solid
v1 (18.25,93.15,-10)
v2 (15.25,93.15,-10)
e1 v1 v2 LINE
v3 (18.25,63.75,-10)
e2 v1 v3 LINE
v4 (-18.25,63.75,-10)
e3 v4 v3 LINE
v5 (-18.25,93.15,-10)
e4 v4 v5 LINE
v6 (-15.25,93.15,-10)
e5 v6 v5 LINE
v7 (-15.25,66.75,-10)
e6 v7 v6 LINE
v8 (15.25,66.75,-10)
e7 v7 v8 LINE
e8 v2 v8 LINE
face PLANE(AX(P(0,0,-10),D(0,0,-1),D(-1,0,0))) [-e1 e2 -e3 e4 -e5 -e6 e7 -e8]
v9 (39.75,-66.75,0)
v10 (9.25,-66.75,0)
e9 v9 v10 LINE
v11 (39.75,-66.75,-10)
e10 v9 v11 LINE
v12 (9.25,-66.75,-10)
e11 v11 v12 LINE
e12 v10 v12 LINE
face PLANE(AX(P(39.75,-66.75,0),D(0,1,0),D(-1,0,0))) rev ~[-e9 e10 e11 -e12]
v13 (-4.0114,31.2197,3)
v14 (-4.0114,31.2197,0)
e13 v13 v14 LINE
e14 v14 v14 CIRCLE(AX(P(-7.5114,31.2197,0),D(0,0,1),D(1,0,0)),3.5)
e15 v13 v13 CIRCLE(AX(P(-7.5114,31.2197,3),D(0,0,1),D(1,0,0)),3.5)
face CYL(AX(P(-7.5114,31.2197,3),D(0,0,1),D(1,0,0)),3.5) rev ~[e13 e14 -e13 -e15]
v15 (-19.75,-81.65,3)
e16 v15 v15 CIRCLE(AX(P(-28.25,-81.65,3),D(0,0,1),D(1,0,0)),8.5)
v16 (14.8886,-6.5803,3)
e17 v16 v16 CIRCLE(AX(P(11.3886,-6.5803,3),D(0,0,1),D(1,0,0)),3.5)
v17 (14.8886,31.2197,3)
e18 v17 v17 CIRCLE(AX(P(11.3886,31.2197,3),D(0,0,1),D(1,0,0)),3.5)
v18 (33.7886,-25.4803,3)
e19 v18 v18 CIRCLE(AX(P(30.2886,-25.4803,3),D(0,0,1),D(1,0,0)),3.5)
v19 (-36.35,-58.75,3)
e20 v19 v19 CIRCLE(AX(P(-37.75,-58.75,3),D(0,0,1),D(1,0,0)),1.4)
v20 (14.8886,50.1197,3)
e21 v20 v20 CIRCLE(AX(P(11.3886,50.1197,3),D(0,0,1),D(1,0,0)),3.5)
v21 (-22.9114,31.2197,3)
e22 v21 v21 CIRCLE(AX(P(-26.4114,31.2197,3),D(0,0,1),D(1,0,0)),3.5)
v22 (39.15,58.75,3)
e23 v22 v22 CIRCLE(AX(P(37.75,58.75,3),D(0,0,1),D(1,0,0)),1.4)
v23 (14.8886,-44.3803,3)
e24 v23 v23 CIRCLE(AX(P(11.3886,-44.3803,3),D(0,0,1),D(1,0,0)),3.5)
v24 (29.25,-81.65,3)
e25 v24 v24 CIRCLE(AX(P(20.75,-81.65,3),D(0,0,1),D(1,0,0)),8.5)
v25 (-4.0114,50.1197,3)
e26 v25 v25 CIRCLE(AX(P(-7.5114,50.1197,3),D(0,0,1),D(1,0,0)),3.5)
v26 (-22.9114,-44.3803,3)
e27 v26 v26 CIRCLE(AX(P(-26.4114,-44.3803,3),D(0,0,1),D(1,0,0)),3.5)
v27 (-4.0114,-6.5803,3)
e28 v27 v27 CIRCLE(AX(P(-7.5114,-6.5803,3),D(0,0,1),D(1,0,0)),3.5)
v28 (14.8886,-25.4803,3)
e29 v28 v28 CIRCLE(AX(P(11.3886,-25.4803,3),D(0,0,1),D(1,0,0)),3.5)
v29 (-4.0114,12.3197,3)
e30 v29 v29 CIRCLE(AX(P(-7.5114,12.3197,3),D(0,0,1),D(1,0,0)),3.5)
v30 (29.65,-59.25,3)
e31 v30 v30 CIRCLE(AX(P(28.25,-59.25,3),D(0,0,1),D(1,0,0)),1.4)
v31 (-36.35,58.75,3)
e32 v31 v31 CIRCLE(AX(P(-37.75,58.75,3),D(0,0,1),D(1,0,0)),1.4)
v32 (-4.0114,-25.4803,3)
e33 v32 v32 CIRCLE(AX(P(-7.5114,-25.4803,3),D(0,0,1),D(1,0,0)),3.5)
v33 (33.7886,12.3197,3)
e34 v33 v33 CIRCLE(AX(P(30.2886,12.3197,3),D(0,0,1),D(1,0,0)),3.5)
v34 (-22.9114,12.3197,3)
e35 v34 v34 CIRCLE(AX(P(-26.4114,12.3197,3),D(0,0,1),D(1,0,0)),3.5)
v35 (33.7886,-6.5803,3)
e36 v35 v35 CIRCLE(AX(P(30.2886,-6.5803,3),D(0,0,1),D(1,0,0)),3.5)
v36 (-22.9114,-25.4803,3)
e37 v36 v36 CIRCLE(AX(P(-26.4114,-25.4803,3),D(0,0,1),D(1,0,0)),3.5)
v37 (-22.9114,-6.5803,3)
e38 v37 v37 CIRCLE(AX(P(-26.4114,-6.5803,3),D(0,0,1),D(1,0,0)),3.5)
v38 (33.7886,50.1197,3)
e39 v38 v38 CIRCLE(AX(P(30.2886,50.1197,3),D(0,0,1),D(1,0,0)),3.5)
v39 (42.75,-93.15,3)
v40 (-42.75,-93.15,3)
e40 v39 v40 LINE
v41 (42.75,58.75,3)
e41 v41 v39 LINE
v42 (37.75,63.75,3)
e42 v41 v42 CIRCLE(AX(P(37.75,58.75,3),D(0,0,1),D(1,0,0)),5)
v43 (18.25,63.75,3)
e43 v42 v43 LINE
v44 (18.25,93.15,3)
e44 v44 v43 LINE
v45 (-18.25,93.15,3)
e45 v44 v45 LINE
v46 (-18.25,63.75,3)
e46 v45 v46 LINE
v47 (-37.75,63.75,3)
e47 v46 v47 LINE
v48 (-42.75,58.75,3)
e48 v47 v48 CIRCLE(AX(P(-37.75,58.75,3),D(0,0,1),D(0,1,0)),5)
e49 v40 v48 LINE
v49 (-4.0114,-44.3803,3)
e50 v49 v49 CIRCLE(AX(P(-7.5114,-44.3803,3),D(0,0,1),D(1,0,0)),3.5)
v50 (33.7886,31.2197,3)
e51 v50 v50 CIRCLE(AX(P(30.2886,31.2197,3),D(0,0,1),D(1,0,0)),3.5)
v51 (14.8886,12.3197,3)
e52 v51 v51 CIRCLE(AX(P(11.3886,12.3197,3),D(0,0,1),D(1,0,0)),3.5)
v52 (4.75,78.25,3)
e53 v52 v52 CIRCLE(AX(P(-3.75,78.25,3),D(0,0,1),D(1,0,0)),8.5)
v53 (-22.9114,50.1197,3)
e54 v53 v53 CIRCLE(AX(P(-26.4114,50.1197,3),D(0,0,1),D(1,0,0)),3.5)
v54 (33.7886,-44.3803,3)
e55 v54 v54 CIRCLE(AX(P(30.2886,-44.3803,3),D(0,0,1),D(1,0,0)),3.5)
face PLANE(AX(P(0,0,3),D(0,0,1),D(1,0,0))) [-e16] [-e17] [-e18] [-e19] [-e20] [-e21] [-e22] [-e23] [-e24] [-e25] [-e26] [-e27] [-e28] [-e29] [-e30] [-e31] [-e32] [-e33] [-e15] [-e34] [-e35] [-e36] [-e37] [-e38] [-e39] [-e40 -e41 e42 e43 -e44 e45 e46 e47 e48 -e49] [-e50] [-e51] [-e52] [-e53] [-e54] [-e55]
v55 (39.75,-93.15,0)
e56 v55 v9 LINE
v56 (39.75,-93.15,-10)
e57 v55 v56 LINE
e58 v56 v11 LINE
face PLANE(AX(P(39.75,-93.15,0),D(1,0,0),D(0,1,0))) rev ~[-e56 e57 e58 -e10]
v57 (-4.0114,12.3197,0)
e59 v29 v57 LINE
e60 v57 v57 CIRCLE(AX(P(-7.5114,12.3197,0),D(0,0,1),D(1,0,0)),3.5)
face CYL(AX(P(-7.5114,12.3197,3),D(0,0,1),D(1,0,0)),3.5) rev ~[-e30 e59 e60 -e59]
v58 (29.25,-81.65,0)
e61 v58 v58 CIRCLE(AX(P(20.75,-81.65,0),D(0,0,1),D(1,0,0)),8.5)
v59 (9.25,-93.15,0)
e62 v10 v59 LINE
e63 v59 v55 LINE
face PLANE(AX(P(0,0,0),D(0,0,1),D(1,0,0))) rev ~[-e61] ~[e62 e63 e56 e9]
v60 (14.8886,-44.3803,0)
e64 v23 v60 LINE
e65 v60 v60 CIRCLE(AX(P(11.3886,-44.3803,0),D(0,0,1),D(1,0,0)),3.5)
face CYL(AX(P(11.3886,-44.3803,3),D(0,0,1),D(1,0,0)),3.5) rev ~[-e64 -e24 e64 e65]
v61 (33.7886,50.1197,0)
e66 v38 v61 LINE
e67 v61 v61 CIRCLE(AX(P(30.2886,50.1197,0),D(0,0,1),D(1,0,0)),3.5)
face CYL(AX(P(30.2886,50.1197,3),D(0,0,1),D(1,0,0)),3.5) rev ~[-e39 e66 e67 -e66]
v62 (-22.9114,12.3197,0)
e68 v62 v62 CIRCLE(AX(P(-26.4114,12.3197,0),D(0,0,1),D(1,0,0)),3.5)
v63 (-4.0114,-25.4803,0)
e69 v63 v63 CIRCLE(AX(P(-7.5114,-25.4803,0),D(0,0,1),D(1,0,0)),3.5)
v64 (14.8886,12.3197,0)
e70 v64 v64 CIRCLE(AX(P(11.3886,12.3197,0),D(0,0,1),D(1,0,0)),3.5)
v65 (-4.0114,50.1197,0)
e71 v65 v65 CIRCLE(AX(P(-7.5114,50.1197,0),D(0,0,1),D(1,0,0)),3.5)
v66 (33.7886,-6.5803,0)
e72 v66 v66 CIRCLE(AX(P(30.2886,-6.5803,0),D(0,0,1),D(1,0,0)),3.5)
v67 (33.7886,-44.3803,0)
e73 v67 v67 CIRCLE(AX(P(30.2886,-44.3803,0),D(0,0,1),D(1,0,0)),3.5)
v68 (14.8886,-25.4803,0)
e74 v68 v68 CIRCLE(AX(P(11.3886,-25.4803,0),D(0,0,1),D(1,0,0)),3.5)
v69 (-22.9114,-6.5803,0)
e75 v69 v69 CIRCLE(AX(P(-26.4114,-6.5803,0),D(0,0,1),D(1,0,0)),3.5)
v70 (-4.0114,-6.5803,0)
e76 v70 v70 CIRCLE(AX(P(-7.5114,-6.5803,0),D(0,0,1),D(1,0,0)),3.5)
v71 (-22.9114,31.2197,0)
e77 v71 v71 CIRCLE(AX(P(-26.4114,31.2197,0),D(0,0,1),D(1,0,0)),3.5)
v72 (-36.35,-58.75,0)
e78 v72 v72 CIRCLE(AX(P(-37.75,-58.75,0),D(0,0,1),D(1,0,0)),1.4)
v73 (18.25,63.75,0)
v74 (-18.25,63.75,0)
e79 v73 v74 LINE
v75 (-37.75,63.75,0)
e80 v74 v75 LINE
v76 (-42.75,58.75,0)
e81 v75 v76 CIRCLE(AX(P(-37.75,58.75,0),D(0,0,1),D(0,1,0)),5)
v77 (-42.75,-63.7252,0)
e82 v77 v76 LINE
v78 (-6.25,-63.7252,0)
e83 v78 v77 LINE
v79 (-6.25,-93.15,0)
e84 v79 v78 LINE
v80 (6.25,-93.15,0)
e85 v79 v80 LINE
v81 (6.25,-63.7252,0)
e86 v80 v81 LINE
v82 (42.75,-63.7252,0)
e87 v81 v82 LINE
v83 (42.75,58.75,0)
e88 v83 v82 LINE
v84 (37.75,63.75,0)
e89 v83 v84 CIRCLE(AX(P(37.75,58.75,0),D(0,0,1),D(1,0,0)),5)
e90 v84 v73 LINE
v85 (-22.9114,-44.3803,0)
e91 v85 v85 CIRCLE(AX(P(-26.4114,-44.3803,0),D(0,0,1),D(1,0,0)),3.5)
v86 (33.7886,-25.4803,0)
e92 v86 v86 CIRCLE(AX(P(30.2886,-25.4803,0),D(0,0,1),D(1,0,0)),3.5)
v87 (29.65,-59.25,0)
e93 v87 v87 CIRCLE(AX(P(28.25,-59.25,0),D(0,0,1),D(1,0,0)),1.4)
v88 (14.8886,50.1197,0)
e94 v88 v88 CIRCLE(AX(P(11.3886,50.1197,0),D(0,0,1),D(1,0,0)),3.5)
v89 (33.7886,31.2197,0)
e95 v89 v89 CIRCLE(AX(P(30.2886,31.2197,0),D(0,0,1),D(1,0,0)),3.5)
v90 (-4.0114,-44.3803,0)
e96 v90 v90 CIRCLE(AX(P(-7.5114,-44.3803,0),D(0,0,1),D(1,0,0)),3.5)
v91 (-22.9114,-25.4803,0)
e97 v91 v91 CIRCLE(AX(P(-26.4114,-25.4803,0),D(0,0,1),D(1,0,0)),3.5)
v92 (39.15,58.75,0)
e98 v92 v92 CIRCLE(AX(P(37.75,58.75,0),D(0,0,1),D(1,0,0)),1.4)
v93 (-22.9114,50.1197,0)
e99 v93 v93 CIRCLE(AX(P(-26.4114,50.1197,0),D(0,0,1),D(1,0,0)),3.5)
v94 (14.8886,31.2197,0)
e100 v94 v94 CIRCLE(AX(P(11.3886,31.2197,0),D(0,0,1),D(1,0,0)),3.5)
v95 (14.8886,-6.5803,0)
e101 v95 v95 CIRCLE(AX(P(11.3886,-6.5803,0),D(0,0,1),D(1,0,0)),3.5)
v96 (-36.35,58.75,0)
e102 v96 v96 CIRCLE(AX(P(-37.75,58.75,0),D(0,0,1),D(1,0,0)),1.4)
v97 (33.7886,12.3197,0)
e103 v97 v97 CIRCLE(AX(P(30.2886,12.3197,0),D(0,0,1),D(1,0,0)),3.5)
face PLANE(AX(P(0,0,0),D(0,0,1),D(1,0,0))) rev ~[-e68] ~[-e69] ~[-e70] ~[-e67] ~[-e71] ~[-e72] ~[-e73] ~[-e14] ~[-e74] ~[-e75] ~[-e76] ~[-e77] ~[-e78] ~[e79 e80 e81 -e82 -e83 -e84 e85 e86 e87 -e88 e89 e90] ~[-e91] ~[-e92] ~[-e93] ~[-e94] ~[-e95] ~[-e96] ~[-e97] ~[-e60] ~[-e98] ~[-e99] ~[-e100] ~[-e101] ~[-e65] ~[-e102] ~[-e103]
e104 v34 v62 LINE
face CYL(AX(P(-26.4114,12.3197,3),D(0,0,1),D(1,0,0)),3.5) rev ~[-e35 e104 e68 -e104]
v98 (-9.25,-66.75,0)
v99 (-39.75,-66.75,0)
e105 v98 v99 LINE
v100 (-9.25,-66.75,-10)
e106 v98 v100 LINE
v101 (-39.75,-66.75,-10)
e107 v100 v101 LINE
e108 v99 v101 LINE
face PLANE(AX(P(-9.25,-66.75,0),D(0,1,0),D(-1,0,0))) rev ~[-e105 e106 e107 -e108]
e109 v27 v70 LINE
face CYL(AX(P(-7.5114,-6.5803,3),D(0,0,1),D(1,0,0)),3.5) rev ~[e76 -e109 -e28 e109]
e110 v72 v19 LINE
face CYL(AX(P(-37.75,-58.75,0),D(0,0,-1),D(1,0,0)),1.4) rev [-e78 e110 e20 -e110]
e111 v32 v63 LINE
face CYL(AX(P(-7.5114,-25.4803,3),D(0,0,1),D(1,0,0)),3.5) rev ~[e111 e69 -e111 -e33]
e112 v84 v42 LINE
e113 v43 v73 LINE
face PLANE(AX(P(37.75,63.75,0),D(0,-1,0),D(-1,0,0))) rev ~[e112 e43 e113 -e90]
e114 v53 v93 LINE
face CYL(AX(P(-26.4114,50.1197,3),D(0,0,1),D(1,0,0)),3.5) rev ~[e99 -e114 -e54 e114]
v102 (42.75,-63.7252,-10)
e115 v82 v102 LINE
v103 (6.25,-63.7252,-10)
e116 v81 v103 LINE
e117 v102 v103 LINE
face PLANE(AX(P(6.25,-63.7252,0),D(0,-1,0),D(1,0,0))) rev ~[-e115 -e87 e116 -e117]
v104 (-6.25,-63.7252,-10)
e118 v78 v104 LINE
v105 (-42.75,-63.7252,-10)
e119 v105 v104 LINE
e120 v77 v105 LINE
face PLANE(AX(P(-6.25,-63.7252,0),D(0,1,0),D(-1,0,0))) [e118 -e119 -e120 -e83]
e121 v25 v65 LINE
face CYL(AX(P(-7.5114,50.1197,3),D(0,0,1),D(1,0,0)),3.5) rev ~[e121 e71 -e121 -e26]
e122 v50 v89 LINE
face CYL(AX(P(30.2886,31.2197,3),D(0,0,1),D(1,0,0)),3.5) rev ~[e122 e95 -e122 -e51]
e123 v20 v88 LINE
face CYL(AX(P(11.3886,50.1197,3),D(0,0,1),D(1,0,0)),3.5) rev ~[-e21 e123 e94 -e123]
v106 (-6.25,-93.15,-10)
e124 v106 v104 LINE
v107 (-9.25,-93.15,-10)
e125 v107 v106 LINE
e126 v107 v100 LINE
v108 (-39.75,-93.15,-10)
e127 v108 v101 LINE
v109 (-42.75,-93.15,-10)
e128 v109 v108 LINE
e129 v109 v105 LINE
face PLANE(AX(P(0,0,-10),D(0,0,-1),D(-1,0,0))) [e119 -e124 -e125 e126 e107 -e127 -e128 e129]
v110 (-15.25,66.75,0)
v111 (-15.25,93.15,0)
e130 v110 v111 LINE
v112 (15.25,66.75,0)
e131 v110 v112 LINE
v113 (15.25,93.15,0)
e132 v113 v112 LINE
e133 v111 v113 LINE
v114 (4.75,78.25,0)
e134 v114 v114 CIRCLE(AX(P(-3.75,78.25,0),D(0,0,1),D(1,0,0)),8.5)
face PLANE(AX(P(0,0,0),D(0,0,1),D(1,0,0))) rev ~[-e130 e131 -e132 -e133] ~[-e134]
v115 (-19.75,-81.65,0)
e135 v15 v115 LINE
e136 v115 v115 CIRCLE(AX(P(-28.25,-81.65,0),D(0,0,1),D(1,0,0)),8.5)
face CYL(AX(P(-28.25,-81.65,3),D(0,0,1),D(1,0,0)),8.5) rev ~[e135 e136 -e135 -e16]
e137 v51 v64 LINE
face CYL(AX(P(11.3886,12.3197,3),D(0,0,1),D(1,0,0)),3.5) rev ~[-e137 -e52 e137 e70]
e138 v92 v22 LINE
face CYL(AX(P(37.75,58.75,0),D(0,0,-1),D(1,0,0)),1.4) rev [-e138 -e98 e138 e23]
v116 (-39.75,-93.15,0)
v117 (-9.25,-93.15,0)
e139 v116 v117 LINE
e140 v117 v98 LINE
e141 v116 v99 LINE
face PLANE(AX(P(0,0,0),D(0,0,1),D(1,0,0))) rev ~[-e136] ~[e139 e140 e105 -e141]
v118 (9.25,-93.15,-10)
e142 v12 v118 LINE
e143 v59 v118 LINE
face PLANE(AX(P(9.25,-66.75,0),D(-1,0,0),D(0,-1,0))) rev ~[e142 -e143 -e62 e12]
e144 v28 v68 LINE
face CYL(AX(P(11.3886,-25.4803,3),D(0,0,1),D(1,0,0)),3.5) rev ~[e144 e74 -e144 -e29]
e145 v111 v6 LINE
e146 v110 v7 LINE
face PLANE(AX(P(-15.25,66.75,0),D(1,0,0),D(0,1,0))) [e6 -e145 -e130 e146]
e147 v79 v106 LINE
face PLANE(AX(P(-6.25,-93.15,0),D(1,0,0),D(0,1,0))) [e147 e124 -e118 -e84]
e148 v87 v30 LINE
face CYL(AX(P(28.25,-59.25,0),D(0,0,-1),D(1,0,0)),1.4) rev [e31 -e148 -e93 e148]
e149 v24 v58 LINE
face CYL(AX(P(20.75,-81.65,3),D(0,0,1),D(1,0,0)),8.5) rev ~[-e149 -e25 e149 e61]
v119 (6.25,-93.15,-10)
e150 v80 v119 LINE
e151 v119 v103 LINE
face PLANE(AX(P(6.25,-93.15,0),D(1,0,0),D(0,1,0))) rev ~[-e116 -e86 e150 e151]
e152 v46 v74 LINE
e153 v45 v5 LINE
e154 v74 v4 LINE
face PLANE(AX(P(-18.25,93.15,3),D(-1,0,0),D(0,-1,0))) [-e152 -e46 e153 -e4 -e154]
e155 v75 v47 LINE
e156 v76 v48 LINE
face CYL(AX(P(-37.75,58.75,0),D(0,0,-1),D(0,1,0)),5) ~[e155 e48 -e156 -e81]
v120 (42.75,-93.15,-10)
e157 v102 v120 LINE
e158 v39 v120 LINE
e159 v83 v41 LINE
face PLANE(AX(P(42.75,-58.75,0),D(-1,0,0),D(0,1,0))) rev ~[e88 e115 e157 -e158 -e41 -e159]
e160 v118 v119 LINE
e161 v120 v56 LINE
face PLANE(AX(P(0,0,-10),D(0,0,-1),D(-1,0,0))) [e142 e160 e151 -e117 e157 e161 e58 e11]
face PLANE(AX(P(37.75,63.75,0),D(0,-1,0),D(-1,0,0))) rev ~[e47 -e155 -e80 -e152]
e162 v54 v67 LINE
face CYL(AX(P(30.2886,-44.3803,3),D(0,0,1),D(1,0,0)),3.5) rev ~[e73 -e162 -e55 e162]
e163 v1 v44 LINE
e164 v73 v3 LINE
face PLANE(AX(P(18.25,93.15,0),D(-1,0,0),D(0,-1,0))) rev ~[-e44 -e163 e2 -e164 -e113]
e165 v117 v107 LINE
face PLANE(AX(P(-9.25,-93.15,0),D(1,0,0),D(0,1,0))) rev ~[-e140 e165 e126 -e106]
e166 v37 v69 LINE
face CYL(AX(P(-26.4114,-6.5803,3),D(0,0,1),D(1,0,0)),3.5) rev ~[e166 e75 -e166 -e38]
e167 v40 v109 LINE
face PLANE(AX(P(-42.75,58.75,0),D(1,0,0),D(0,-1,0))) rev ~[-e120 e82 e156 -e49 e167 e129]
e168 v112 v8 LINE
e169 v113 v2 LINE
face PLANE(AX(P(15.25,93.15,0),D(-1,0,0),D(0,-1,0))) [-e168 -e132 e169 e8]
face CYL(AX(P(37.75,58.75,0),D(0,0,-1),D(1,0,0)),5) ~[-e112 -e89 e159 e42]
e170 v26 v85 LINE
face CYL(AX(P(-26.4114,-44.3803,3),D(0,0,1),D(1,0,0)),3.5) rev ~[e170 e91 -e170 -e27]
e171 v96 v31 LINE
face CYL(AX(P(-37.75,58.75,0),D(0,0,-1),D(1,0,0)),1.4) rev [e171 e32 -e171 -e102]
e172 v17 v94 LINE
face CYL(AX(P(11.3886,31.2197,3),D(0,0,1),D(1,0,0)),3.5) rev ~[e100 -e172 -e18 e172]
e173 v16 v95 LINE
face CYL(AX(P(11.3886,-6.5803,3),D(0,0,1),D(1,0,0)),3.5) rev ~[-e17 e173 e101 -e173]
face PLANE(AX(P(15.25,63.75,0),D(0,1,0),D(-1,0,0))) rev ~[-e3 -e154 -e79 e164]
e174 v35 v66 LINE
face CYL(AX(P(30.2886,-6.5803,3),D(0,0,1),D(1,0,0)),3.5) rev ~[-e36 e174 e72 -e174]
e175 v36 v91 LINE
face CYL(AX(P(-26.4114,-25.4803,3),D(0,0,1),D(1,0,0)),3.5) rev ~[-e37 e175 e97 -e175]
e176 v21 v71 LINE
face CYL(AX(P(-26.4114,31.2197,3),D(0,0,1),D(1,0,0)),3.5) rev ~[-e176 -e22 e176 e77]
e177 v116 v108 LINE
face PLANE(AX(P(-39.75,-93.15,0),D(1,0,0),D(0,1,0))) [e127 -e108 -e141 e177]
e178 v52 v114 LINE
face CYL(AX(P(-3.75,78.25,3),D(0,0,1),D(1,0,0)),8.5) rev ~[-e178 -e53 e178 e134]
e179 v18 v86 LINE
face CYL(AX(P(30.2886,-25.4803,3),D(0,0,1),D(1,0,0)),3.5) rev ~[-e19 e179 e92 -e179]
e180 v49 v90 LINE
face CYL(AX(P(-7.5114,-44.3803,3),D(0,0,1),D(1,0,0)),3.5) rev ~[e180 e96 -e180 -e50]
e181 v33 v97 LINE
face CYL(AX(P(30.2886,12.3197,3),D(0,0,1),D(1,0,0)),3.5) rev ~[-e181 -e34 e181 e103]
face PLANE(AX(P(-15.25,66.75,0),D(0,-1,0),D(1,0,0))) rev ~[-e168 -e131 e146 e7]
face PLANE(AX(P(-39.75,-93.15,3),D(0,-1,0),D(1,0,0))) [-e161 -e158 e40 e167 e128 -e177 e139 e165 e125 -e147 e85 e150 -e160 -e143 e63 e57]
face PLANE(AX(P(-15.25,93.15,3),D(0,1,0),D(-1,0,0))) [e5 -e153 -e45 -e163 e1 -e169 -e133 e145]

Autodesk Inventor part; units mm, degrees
ref_plane "YZ Plane" through (0, 0, 0) normal (1, 0, 0) x (0, 1, 0)
ref_plane "XZ Plane" through (0, 0, 0) normal (0, 1, 0) x (-1, 0, 0)
ref_plane "Arbeitsebene1" through (0, 0, 0) normal (0, 0, 1) x (1, 0, 0)
sketch "Skizze1" plane through (0, 0, 0) normal (0, 0, 1) x (1, 0, 0)
  arc A0 (-36.75, 55.75) -> (-34.75, 57.75) centre (-36.75, 57.75) ccw projected
  line L0 (-34.75, 57.75) -> (-34.75, 60.25) projected
  arc A1 (-32.75, 62.25) -> (-34.75, 60.25) centre (-32.75, 60.25) ccw projected
  line L1 (-32.75, 62.25) -> (32.25, 62.25) projected
  arc A2 (34.25, 60.25) -> (32.25, 62.25) centre (32.25, 60.25) ccw projected
  line L2 (34.25, 60.25) -> (34.25, 57.25) projected
  arc A3 (34.25, 57.25) -> (36.25, 55.25) centre (36.25, 57.25) ccw projected
  line L3 (36.25, 55.25) -> (39.25, 55.25) projected
  arc A4 (41.25, 53.25) -> (39.25, 55.25) centre (39.25, 53.25) ccw projected
  line L4 (41.25, 53.25) -> (41.25, -58.75) projected
  arc A5 (37.75, -62.25) -> (41.25, -58.75) centre (37.75, -58.75) ccw projected
  line L5 (37.75, -62.25) -> (33.25, -62.25) projected
  arc A6 (31.25, -60.25) -> (33.25, -62.25) centre (33.25, -60.25) ccw projected
  line L6 (31.25, -60.25) -> (31.25, -57.25) projected
  arc A7 (31.25, -57.25) -> (29.25, -55.25) centre (29.25, -57.25) ccw projected
  line L7 (29.25, -55.25) -> (26.25, -55.25) projected
  arc A8 (26.25, -55.25) -> (24.25, -57.25) centre (26.25, -57.25) ccw projected
  line L8 (24.25, -57.25) -> (24.25, -60.25) projected
  arc A9 (22.25, -62.25) -> (24.25, -60.25) centre (22.25, -60.25) ccw projected
  line L9 (22.25, -62.25) -> (-30.5541, -62.25) projected
  arc A10 (-32.5541, -60.25) -> (-30.5541, -62.25) centre (-30.5541, -60.25) ccw projected
  line L10 (-32.5541, -60.25) -> (-32.5541, -56.8048) projected
  arc A11 (-32.5541, -56.8048) -> (-34.5541, -54.8048) centre (-34.5541, -56.8048) ccw projected
  line L11 (-34.5541, -54.8048) -> (-39.25, -54.8048) projected
  arc A12 (-41.25, -52.8048) -> (-39.25, -54.8048) centre (-39.25, -52.8048) ccw projected
  line L12 (-41.25, -52.8048) -> (-41.25, 53.75) projected
  arc A13 (-39.25, 55.75) -> (-41.25, 53.75) centre (-39.25, 53.75) ccw projected
  line L13 (-39.25, 55.75) -> (-36.75, 55.75) projected
  line L14 (42.75, -58.75) -> (42.75, 58.75) projected
  arc A14 (42.75, 58.75) -> (37.75, 63.75) centre (37.75, 58.75) ccw projected
  line L15 (37.75, 63.75) -> (-37.75, 63.75) projected
  arc A15 (-37.75, 63.75) -> (-42.75, 58.75) centre (-37.75, 58.75) ccw projected
  line L16 (-42.75, 58.75) -> (-42.75, -58.75) projected
  arc A16 (-42.75, -58.75) -> (-37.75, -63.75) centre (-37.75, -58.75) ccw projected
  line L17 (-37.75, -63.75) -> (37.75, -63.75) projected
  arc A17 (37.75, -63.75) -> (42.75, -58.75) centre (37.75, -58.75) ccw projected
  circle A18 centre (-37.75, 58.75) radius 1.4 projected
  circle A19 centre (-37.75, -58.75) radius 1.4 projected
  circle A20 centre (37.75, 58.75) radius 1.4 projected
  circle A21 centre (28.25, -59.25) radius 1.4 projected
  point P0 (0, 0)
extrude "Extrusion1" add sketch "Skizze1" along normal blind 3 contours A0 L0 A1 L1 A2 L2 A3 L3 A4 L4 A5 L5 A6 L6 A7 L7 A8 L8 A9 L9 A10 L10 A11 L11 A12 L12 A13 L13 | A17 L17 A16 L16 A15 L15 A14 L14
sketch "Skizze2" plane through (0, 0, 3) normal (0, 0, 1) x (1, 0, 0)
  circle A0 centre (-26.4114, 50.1197) radius 3.8655 construction
  circle A1 centre (-26.4114, 50.1197) radius 3.5
  point P0 (0, 0)
  dimension "d2" = 7
extrude "Extrusion2" cut sketch "Skizze2" against normal through all
pattern_linear "Rechteckige Anordnung1" count 6 spacing 18.9 along (0, -1, 0) count 4 spacing 18.9 along (1, 0, 0) of "Extrusion2"
sketch "Skizze3" plane through (0, 0, 3) normal (0, 0, 1) x (1, 0, 0)
  circle A0 centre (-28.25, -81.65) radius 8.5 projected
  line L0 (-9.25, -66.75) -> (-39.75, -66.75) projected
  line L1 (-39.75, -66.75) -> (-39.75, -93.15) projected
  line L2 (-39.75, -93.15) -> (-9.25, -93.15) projected
  line L3 (-9.25, -93.15) -> (-9.25, -66.75) projected
  circle A1 centre (-3.75, 78.25) radius 8.5 projected
  line L4 (15.25, 93.15) -> (-15.25, 93.15) projected
  line L5 (-15.25, 93.15) -> (-15.25, 66.75) projected
  line L6 (-15.25, 66.75) -> (15.25, 66.75) projected
  line L7 (15.25, 66.75) -> (15.25, 93.15) projected
  circle A2 centre (20.75, -81.65) radius 8.5 projected
  line L8 (39.75, -66.75) -> (9.25, -66.75) projected
  line L9 (9.25, -66.75) -> (9.25, -93.15) projected
  line L10 (9.25, -93.15) -> (39.75, -93.15) projected
  line L11 (39.75, -93.15) -> (39.75, -66.75) projected
  line L12 (-42.75, 58.75) -> (-42.75, -58.75) projected
  line L13 (-42.75, -66.75) -> (-42.75, -58.75)
  line L14 (-42.75, -58.75) -> (-41.9493, -58.75)
  line L15 (-9.25, -93.15) -> (9.25, -93.15)
  arc A3 (37.75, -63.75) -> (42.75, -58.75) centre (37.75, -58.75) ccw projected
  line L16 (42.75, -66.75) -> (42.75, -58.75)
  line L17 (37.75, 63.75) -> (-37.75, 63.75) projected
  line L18 (-15.25, 93.15) -> (15.25, 93.15)
  line L19 (15.25, 93.15) -> (15.25, 63.75)
  line L20 (15.25, 63.75) -> (-15.25, 63.75)
  line L21 (-15.25, 63.75) -> (-15.25, 93.15)
  arc A4 (-42.75, -58.75) -> (-37.75, -63.75) centre (-37.75, -58.75) ccw projected
  circle A5 centre (30.2886, -44.3803) radius 3.5 projected
  circle A6 centre (30.2886, -25.4803) radius 3.5 projected
  circle A7 centre (30.2886, -6.5803) radius 3.5 projected
  circle A8 centre (30.2886, 12.3197) radius 3.5 projected
  circle A9 centre (30.2886, 31.2197) radius 3.5 projected
  circle A10 centre (30.2886, 50.1197) radius 3.5 projected
  circle A11 centre (11.3886, -44.3803) radius 3.5 projected
  circle A12 centre (11.3886, -25.4803) radius 3.5 projected
  circle A13 centre (11.3886, -6.5803) radius 3.5 projected
  circle A14 centre (11.3886, 12.3197) radius 3.5 projected
  circle A15 centre (11.3886, 31.2197) radius 3.5 projected
  circle A16 centre (11.3886, 50.1197) radius 3.5 projected
  circle A17 centre (-7.5114, -44.3803) radius 3.5 projected
  circle A18 centre (-7.5114, -25.4803) radius 3.5 projected
  circle A19 centre (-7.5114, -6.5803) radius 3.5 projected
  circle A20 centre (-7.5114, 12.3197) radius 3.5 projected
  circle A21 centre (-7.5114, 31.2197) radius 3.5 projected
  circle A22 centre (-7.5114, 50.1197) radius 3.5 projected
  circle A23 centre (-26.4114, -44.3803) radius 3.5 projected
  circle A24 centre (-26.4114, -25.4803) radius 3.5 projected
  circle A25 centre (-26.4114, -6.5803) radius 3.5 projected
  circle A26 centre (-26.4114, 12.3197) radius 3.5 projected
  circle A27 centre (-26.4114, 31.2197) radius 3.5 projected
  circle A28 centre (-26.4114, 50.1197) radius 3.5 projected
  arc A29 (42.75, 58.75) -> (37.75, 63.75) centre (37.75, 58.75) ccw projected
  line L22 (37.75, 63.75) -> (-37.75, 63.75) projected
  arc A30 (-37.75, 63.75) -> (-42.75, 58.75) centre (-37.75, 58.75) ccw projected
  line L23 (-42.75, 58.75) -> (-42.75, -58.75) projected
  arc A31 (-42.75, -58.75) -> (-37.75, -63.75) centre (-37.75, -58.75) ccw projected
  line L24 (-37.75, -63.75) -> (37.75, -63.75) projected
  arc A32 (37.75, -63.75) -> (42.75, -58.75) centre (37.75, -58.75) ccw projected
  line L25 (42.75, -58.75) -> (42.75, 58.75) projected
  circle A33 centre (28.25, -59.25) radius 1.4 projected
  circle A34 centre (37.75, 58.75) radius 1.4 projected
  circle A35 centre (-37.75, -58.75) radius 1.4 projected
  circle A36 centre (-37.75, 58.75) radius 1.4 projected
  line L26 (15.25, 93.15) -> (18.25, 93.15)
  line L27 (18.25, 93.15) -> (18.25, 63.75)
  line L28 (18.25, 63.75) -> (15.25, 63.75)
  line L29 (15.25, 63.75) -> (15.25, 93.15)
  line L30 (-15.25, 93.15) -> (-18.25, 93.15)
  line L31 (-18.25, 93.15) -> (-18.25, 63.75)
  line L32 (-18.25, 63.75) -> (-15.25, 63.75)
  line L33 (-15.25, 63.75) -> (-15.25, 93.15)
  line L34 (-39.75, -93.15) -> (-42.75, -93.15)
  line L35 (-42.75, -93.15) -> (-42.75, -58.75)
  line L36 (-42.75, -58.75) -> (-39.75, -58.75)
  line L37 (-39.75, -58.75) -> (-39.75, -93.15)
  line L38 (39.75, -93.15) -> (42.75, -93.15)
  line L39 (42.75, -93.15) -> (42.75, -58.75)
  line L40 (42.75, -58.75) -> (39.75, -58.75)
  line L41 (39.75, -58.75) -> (39.75, -93.15)
  point P0 (0, 0)
  point P1 (15.25, 66.75)
  point P2 (-15.25, 63.75)
  point P3 (41.5171, -62.0377)
  point P4 (42.75, -58.75)
  point P5 (42.75, -58.75)
  point P6 (-41.5171, -62.0377)
  point P7 (42.75, -58.75)
  point P8 (41.5171, -62.0377)
  point P9 (42.75, -58.75)
  point P10 (-37.75, 63.75)
  dimension "d17" = 3
  dimension "d18" = 3
ref_plane "Arbeitsebene2" through (-15.25, 66.75, 0) normal (0, 0, 1) x (1, 0, 0)
extrude "Extrusion3" add sketch "Skizze3" against normal up to surface (3 mm away)
sketch "Skizze4" plane through (0, 0, 0) normal (0, 0, -1) x (-1, 0, 0)
  circle A0 centre (19.25, -88.65) radius 0.65 projected
  line L0 (9.25, -93.15) -> (9.25, -66.75) projected
  line L1 (9.25, -66.75) -> (39.75, -66.75) projected
  line L2 (-9.25, -66.75) -> (-9.25, -93.15) projected
  line L3 (-39.75, -66.75) -> (-9.25, -66.75) projected
  line L4 (15.25, 66.75) -> (-15.25, 66.75) projected
  line L5 (-37.75, 63.75) -> (37.75, 63.75) projected
  line L6 (-15.25, 66.75) -> (15.25, 66.75)
  line L7 (15.25, 66.75) -> (15.25, 63.75)
  line L8 (15.25, 63.75) -> (-15.25, 63.75)
  line L9 (-15.25, 63.75) -> (-15.25, 66.75)
  line L10 (9.25, -93.15) -> (6.25, -93.15)
  line L11 (6.25, -93.15) -> (6.25, -63.7252)
  line L12 (6.25, -63.7252) -> (9.25, -63.7252)
  line L13 (9.25, -63.7252) -> (9.25, -93.15)
  line L14 (-9.25, -93.15) -> (-6.25, -93.15)
  line L15 (-6.25, -93.15) -> (-6.25, -63.7252)
  line L16 (-6.25, -63.7252) -> (-9.25, -63.7252)
  line L17 (-9.25, -63.7252) -> (-9.25, -93.15)
  line L18 (42.75, 58.75) -> (42.75, -93.15) projected
  line L19 (-42.75, 58.75) -> (-42.75, -93.15) projected
  line L20 (-9.25, -66.75) -> (-39.75, -66.75)
  line L21 (-39.75, -66.75) -> (-39.75, -63.7252)
  line L22 (-39.75, -63.7252) -> (-9.25, -63.7252)
  line L23 (-9.25, -63.7252) -> (-9.25, -66.75)
  line L24 (42.75, 58.75) -> (42.75, -93.15) projected
  line L25 (9.25, -66.75) -> (42.75, -66.75)
  line L26 (42.75, -66.75) -> (42.75, -63.7252)
  line L27 (42.75, -63.7252) -> (9.25, -63.7252)
  line L28 (9.25, -63.7252) -> (9.25, -66.75)
  line L29 (-18.25, 93.15) -> (-18.25, 63.75) projected
  line L30 (18.25, 63.75) -> (18.25, 93.15) projected
  line L31 (-18.25, 93.15) -> (-15.25, 93.15)
  line L32 (-15.25, 93.15) -> (-15.25, 63.75)
  line L33 (-15.25, 63.75) -> (-18.25, 63.75)
  line L34 (-18.25, 63.75) -> (-18.25, 93.15)
  line L35 (18.25, 63.75) -> (37.75, 63.75) projected
  line L36 (18.25, 63.75) -> (15.25, 63.75)
  line L37 (15.25, 63.75) -> (15.25, 93.15)
  line L38 (15.25, 93.15) -> (18.25, 93.15)
  line L39 (18.25, 93.15) -> (18.25, 63.75)
  line L40 (-42.75, -93.15) -> (-42.75, 58.75) projected
  line L41 (-42.75, -93.15) -> (-39.75, -93.15)
  line L42 (-39.75, -93.15) -> (-39.75, -63.7252)
  line L43 (-39.75, -63.7252) -> (-42.75, -63.7252)
  line L44 (-42.75, -63.7252) -> (-42.75, -93.15)
  line L45 (42.75, -93.15) -> (39.75, -93.15)
  line L46 (39.75, -93.15) -> (39.75, -66.75)
  line L47 (39.75, -66.75) -> (42.75, -66.75)
  line L48 (42.75, -66.75) -> (42.75, -93.15)
  point P0 (0, 0)
  point P1 (9.25, -63.7252)
  point P2 (9.25, -66.75)
  point P3 (-9.25, -63.7252)
  point P4 (-42.75, -63.7252)
  point P5 (-9.25, -66.75)
  point P6 (-9.25, -63.7252)
  point P7 (-42.75, -58.75)
  point P8 (42.75, -58.75)
  dimension "d13" = 3
  dimension "d14" = 3
extrude "Extrusion4" add sketch "Skizze4" along normal blind 10 contours L10 L11 L12 L13 L0 | L13 L27 L18 L25 L1 | L25 L18 L45 L46 | L17 L16 L15 L14 L2 | L3 L21 L22 L17 | L42 L41 L19 L43 L21 | L7 L5 L9 L4 | L37 L38 L30 L5 L7 | L9 L5 L29 L31 L32
properties part number "Omniscope_lensmount_v0"
